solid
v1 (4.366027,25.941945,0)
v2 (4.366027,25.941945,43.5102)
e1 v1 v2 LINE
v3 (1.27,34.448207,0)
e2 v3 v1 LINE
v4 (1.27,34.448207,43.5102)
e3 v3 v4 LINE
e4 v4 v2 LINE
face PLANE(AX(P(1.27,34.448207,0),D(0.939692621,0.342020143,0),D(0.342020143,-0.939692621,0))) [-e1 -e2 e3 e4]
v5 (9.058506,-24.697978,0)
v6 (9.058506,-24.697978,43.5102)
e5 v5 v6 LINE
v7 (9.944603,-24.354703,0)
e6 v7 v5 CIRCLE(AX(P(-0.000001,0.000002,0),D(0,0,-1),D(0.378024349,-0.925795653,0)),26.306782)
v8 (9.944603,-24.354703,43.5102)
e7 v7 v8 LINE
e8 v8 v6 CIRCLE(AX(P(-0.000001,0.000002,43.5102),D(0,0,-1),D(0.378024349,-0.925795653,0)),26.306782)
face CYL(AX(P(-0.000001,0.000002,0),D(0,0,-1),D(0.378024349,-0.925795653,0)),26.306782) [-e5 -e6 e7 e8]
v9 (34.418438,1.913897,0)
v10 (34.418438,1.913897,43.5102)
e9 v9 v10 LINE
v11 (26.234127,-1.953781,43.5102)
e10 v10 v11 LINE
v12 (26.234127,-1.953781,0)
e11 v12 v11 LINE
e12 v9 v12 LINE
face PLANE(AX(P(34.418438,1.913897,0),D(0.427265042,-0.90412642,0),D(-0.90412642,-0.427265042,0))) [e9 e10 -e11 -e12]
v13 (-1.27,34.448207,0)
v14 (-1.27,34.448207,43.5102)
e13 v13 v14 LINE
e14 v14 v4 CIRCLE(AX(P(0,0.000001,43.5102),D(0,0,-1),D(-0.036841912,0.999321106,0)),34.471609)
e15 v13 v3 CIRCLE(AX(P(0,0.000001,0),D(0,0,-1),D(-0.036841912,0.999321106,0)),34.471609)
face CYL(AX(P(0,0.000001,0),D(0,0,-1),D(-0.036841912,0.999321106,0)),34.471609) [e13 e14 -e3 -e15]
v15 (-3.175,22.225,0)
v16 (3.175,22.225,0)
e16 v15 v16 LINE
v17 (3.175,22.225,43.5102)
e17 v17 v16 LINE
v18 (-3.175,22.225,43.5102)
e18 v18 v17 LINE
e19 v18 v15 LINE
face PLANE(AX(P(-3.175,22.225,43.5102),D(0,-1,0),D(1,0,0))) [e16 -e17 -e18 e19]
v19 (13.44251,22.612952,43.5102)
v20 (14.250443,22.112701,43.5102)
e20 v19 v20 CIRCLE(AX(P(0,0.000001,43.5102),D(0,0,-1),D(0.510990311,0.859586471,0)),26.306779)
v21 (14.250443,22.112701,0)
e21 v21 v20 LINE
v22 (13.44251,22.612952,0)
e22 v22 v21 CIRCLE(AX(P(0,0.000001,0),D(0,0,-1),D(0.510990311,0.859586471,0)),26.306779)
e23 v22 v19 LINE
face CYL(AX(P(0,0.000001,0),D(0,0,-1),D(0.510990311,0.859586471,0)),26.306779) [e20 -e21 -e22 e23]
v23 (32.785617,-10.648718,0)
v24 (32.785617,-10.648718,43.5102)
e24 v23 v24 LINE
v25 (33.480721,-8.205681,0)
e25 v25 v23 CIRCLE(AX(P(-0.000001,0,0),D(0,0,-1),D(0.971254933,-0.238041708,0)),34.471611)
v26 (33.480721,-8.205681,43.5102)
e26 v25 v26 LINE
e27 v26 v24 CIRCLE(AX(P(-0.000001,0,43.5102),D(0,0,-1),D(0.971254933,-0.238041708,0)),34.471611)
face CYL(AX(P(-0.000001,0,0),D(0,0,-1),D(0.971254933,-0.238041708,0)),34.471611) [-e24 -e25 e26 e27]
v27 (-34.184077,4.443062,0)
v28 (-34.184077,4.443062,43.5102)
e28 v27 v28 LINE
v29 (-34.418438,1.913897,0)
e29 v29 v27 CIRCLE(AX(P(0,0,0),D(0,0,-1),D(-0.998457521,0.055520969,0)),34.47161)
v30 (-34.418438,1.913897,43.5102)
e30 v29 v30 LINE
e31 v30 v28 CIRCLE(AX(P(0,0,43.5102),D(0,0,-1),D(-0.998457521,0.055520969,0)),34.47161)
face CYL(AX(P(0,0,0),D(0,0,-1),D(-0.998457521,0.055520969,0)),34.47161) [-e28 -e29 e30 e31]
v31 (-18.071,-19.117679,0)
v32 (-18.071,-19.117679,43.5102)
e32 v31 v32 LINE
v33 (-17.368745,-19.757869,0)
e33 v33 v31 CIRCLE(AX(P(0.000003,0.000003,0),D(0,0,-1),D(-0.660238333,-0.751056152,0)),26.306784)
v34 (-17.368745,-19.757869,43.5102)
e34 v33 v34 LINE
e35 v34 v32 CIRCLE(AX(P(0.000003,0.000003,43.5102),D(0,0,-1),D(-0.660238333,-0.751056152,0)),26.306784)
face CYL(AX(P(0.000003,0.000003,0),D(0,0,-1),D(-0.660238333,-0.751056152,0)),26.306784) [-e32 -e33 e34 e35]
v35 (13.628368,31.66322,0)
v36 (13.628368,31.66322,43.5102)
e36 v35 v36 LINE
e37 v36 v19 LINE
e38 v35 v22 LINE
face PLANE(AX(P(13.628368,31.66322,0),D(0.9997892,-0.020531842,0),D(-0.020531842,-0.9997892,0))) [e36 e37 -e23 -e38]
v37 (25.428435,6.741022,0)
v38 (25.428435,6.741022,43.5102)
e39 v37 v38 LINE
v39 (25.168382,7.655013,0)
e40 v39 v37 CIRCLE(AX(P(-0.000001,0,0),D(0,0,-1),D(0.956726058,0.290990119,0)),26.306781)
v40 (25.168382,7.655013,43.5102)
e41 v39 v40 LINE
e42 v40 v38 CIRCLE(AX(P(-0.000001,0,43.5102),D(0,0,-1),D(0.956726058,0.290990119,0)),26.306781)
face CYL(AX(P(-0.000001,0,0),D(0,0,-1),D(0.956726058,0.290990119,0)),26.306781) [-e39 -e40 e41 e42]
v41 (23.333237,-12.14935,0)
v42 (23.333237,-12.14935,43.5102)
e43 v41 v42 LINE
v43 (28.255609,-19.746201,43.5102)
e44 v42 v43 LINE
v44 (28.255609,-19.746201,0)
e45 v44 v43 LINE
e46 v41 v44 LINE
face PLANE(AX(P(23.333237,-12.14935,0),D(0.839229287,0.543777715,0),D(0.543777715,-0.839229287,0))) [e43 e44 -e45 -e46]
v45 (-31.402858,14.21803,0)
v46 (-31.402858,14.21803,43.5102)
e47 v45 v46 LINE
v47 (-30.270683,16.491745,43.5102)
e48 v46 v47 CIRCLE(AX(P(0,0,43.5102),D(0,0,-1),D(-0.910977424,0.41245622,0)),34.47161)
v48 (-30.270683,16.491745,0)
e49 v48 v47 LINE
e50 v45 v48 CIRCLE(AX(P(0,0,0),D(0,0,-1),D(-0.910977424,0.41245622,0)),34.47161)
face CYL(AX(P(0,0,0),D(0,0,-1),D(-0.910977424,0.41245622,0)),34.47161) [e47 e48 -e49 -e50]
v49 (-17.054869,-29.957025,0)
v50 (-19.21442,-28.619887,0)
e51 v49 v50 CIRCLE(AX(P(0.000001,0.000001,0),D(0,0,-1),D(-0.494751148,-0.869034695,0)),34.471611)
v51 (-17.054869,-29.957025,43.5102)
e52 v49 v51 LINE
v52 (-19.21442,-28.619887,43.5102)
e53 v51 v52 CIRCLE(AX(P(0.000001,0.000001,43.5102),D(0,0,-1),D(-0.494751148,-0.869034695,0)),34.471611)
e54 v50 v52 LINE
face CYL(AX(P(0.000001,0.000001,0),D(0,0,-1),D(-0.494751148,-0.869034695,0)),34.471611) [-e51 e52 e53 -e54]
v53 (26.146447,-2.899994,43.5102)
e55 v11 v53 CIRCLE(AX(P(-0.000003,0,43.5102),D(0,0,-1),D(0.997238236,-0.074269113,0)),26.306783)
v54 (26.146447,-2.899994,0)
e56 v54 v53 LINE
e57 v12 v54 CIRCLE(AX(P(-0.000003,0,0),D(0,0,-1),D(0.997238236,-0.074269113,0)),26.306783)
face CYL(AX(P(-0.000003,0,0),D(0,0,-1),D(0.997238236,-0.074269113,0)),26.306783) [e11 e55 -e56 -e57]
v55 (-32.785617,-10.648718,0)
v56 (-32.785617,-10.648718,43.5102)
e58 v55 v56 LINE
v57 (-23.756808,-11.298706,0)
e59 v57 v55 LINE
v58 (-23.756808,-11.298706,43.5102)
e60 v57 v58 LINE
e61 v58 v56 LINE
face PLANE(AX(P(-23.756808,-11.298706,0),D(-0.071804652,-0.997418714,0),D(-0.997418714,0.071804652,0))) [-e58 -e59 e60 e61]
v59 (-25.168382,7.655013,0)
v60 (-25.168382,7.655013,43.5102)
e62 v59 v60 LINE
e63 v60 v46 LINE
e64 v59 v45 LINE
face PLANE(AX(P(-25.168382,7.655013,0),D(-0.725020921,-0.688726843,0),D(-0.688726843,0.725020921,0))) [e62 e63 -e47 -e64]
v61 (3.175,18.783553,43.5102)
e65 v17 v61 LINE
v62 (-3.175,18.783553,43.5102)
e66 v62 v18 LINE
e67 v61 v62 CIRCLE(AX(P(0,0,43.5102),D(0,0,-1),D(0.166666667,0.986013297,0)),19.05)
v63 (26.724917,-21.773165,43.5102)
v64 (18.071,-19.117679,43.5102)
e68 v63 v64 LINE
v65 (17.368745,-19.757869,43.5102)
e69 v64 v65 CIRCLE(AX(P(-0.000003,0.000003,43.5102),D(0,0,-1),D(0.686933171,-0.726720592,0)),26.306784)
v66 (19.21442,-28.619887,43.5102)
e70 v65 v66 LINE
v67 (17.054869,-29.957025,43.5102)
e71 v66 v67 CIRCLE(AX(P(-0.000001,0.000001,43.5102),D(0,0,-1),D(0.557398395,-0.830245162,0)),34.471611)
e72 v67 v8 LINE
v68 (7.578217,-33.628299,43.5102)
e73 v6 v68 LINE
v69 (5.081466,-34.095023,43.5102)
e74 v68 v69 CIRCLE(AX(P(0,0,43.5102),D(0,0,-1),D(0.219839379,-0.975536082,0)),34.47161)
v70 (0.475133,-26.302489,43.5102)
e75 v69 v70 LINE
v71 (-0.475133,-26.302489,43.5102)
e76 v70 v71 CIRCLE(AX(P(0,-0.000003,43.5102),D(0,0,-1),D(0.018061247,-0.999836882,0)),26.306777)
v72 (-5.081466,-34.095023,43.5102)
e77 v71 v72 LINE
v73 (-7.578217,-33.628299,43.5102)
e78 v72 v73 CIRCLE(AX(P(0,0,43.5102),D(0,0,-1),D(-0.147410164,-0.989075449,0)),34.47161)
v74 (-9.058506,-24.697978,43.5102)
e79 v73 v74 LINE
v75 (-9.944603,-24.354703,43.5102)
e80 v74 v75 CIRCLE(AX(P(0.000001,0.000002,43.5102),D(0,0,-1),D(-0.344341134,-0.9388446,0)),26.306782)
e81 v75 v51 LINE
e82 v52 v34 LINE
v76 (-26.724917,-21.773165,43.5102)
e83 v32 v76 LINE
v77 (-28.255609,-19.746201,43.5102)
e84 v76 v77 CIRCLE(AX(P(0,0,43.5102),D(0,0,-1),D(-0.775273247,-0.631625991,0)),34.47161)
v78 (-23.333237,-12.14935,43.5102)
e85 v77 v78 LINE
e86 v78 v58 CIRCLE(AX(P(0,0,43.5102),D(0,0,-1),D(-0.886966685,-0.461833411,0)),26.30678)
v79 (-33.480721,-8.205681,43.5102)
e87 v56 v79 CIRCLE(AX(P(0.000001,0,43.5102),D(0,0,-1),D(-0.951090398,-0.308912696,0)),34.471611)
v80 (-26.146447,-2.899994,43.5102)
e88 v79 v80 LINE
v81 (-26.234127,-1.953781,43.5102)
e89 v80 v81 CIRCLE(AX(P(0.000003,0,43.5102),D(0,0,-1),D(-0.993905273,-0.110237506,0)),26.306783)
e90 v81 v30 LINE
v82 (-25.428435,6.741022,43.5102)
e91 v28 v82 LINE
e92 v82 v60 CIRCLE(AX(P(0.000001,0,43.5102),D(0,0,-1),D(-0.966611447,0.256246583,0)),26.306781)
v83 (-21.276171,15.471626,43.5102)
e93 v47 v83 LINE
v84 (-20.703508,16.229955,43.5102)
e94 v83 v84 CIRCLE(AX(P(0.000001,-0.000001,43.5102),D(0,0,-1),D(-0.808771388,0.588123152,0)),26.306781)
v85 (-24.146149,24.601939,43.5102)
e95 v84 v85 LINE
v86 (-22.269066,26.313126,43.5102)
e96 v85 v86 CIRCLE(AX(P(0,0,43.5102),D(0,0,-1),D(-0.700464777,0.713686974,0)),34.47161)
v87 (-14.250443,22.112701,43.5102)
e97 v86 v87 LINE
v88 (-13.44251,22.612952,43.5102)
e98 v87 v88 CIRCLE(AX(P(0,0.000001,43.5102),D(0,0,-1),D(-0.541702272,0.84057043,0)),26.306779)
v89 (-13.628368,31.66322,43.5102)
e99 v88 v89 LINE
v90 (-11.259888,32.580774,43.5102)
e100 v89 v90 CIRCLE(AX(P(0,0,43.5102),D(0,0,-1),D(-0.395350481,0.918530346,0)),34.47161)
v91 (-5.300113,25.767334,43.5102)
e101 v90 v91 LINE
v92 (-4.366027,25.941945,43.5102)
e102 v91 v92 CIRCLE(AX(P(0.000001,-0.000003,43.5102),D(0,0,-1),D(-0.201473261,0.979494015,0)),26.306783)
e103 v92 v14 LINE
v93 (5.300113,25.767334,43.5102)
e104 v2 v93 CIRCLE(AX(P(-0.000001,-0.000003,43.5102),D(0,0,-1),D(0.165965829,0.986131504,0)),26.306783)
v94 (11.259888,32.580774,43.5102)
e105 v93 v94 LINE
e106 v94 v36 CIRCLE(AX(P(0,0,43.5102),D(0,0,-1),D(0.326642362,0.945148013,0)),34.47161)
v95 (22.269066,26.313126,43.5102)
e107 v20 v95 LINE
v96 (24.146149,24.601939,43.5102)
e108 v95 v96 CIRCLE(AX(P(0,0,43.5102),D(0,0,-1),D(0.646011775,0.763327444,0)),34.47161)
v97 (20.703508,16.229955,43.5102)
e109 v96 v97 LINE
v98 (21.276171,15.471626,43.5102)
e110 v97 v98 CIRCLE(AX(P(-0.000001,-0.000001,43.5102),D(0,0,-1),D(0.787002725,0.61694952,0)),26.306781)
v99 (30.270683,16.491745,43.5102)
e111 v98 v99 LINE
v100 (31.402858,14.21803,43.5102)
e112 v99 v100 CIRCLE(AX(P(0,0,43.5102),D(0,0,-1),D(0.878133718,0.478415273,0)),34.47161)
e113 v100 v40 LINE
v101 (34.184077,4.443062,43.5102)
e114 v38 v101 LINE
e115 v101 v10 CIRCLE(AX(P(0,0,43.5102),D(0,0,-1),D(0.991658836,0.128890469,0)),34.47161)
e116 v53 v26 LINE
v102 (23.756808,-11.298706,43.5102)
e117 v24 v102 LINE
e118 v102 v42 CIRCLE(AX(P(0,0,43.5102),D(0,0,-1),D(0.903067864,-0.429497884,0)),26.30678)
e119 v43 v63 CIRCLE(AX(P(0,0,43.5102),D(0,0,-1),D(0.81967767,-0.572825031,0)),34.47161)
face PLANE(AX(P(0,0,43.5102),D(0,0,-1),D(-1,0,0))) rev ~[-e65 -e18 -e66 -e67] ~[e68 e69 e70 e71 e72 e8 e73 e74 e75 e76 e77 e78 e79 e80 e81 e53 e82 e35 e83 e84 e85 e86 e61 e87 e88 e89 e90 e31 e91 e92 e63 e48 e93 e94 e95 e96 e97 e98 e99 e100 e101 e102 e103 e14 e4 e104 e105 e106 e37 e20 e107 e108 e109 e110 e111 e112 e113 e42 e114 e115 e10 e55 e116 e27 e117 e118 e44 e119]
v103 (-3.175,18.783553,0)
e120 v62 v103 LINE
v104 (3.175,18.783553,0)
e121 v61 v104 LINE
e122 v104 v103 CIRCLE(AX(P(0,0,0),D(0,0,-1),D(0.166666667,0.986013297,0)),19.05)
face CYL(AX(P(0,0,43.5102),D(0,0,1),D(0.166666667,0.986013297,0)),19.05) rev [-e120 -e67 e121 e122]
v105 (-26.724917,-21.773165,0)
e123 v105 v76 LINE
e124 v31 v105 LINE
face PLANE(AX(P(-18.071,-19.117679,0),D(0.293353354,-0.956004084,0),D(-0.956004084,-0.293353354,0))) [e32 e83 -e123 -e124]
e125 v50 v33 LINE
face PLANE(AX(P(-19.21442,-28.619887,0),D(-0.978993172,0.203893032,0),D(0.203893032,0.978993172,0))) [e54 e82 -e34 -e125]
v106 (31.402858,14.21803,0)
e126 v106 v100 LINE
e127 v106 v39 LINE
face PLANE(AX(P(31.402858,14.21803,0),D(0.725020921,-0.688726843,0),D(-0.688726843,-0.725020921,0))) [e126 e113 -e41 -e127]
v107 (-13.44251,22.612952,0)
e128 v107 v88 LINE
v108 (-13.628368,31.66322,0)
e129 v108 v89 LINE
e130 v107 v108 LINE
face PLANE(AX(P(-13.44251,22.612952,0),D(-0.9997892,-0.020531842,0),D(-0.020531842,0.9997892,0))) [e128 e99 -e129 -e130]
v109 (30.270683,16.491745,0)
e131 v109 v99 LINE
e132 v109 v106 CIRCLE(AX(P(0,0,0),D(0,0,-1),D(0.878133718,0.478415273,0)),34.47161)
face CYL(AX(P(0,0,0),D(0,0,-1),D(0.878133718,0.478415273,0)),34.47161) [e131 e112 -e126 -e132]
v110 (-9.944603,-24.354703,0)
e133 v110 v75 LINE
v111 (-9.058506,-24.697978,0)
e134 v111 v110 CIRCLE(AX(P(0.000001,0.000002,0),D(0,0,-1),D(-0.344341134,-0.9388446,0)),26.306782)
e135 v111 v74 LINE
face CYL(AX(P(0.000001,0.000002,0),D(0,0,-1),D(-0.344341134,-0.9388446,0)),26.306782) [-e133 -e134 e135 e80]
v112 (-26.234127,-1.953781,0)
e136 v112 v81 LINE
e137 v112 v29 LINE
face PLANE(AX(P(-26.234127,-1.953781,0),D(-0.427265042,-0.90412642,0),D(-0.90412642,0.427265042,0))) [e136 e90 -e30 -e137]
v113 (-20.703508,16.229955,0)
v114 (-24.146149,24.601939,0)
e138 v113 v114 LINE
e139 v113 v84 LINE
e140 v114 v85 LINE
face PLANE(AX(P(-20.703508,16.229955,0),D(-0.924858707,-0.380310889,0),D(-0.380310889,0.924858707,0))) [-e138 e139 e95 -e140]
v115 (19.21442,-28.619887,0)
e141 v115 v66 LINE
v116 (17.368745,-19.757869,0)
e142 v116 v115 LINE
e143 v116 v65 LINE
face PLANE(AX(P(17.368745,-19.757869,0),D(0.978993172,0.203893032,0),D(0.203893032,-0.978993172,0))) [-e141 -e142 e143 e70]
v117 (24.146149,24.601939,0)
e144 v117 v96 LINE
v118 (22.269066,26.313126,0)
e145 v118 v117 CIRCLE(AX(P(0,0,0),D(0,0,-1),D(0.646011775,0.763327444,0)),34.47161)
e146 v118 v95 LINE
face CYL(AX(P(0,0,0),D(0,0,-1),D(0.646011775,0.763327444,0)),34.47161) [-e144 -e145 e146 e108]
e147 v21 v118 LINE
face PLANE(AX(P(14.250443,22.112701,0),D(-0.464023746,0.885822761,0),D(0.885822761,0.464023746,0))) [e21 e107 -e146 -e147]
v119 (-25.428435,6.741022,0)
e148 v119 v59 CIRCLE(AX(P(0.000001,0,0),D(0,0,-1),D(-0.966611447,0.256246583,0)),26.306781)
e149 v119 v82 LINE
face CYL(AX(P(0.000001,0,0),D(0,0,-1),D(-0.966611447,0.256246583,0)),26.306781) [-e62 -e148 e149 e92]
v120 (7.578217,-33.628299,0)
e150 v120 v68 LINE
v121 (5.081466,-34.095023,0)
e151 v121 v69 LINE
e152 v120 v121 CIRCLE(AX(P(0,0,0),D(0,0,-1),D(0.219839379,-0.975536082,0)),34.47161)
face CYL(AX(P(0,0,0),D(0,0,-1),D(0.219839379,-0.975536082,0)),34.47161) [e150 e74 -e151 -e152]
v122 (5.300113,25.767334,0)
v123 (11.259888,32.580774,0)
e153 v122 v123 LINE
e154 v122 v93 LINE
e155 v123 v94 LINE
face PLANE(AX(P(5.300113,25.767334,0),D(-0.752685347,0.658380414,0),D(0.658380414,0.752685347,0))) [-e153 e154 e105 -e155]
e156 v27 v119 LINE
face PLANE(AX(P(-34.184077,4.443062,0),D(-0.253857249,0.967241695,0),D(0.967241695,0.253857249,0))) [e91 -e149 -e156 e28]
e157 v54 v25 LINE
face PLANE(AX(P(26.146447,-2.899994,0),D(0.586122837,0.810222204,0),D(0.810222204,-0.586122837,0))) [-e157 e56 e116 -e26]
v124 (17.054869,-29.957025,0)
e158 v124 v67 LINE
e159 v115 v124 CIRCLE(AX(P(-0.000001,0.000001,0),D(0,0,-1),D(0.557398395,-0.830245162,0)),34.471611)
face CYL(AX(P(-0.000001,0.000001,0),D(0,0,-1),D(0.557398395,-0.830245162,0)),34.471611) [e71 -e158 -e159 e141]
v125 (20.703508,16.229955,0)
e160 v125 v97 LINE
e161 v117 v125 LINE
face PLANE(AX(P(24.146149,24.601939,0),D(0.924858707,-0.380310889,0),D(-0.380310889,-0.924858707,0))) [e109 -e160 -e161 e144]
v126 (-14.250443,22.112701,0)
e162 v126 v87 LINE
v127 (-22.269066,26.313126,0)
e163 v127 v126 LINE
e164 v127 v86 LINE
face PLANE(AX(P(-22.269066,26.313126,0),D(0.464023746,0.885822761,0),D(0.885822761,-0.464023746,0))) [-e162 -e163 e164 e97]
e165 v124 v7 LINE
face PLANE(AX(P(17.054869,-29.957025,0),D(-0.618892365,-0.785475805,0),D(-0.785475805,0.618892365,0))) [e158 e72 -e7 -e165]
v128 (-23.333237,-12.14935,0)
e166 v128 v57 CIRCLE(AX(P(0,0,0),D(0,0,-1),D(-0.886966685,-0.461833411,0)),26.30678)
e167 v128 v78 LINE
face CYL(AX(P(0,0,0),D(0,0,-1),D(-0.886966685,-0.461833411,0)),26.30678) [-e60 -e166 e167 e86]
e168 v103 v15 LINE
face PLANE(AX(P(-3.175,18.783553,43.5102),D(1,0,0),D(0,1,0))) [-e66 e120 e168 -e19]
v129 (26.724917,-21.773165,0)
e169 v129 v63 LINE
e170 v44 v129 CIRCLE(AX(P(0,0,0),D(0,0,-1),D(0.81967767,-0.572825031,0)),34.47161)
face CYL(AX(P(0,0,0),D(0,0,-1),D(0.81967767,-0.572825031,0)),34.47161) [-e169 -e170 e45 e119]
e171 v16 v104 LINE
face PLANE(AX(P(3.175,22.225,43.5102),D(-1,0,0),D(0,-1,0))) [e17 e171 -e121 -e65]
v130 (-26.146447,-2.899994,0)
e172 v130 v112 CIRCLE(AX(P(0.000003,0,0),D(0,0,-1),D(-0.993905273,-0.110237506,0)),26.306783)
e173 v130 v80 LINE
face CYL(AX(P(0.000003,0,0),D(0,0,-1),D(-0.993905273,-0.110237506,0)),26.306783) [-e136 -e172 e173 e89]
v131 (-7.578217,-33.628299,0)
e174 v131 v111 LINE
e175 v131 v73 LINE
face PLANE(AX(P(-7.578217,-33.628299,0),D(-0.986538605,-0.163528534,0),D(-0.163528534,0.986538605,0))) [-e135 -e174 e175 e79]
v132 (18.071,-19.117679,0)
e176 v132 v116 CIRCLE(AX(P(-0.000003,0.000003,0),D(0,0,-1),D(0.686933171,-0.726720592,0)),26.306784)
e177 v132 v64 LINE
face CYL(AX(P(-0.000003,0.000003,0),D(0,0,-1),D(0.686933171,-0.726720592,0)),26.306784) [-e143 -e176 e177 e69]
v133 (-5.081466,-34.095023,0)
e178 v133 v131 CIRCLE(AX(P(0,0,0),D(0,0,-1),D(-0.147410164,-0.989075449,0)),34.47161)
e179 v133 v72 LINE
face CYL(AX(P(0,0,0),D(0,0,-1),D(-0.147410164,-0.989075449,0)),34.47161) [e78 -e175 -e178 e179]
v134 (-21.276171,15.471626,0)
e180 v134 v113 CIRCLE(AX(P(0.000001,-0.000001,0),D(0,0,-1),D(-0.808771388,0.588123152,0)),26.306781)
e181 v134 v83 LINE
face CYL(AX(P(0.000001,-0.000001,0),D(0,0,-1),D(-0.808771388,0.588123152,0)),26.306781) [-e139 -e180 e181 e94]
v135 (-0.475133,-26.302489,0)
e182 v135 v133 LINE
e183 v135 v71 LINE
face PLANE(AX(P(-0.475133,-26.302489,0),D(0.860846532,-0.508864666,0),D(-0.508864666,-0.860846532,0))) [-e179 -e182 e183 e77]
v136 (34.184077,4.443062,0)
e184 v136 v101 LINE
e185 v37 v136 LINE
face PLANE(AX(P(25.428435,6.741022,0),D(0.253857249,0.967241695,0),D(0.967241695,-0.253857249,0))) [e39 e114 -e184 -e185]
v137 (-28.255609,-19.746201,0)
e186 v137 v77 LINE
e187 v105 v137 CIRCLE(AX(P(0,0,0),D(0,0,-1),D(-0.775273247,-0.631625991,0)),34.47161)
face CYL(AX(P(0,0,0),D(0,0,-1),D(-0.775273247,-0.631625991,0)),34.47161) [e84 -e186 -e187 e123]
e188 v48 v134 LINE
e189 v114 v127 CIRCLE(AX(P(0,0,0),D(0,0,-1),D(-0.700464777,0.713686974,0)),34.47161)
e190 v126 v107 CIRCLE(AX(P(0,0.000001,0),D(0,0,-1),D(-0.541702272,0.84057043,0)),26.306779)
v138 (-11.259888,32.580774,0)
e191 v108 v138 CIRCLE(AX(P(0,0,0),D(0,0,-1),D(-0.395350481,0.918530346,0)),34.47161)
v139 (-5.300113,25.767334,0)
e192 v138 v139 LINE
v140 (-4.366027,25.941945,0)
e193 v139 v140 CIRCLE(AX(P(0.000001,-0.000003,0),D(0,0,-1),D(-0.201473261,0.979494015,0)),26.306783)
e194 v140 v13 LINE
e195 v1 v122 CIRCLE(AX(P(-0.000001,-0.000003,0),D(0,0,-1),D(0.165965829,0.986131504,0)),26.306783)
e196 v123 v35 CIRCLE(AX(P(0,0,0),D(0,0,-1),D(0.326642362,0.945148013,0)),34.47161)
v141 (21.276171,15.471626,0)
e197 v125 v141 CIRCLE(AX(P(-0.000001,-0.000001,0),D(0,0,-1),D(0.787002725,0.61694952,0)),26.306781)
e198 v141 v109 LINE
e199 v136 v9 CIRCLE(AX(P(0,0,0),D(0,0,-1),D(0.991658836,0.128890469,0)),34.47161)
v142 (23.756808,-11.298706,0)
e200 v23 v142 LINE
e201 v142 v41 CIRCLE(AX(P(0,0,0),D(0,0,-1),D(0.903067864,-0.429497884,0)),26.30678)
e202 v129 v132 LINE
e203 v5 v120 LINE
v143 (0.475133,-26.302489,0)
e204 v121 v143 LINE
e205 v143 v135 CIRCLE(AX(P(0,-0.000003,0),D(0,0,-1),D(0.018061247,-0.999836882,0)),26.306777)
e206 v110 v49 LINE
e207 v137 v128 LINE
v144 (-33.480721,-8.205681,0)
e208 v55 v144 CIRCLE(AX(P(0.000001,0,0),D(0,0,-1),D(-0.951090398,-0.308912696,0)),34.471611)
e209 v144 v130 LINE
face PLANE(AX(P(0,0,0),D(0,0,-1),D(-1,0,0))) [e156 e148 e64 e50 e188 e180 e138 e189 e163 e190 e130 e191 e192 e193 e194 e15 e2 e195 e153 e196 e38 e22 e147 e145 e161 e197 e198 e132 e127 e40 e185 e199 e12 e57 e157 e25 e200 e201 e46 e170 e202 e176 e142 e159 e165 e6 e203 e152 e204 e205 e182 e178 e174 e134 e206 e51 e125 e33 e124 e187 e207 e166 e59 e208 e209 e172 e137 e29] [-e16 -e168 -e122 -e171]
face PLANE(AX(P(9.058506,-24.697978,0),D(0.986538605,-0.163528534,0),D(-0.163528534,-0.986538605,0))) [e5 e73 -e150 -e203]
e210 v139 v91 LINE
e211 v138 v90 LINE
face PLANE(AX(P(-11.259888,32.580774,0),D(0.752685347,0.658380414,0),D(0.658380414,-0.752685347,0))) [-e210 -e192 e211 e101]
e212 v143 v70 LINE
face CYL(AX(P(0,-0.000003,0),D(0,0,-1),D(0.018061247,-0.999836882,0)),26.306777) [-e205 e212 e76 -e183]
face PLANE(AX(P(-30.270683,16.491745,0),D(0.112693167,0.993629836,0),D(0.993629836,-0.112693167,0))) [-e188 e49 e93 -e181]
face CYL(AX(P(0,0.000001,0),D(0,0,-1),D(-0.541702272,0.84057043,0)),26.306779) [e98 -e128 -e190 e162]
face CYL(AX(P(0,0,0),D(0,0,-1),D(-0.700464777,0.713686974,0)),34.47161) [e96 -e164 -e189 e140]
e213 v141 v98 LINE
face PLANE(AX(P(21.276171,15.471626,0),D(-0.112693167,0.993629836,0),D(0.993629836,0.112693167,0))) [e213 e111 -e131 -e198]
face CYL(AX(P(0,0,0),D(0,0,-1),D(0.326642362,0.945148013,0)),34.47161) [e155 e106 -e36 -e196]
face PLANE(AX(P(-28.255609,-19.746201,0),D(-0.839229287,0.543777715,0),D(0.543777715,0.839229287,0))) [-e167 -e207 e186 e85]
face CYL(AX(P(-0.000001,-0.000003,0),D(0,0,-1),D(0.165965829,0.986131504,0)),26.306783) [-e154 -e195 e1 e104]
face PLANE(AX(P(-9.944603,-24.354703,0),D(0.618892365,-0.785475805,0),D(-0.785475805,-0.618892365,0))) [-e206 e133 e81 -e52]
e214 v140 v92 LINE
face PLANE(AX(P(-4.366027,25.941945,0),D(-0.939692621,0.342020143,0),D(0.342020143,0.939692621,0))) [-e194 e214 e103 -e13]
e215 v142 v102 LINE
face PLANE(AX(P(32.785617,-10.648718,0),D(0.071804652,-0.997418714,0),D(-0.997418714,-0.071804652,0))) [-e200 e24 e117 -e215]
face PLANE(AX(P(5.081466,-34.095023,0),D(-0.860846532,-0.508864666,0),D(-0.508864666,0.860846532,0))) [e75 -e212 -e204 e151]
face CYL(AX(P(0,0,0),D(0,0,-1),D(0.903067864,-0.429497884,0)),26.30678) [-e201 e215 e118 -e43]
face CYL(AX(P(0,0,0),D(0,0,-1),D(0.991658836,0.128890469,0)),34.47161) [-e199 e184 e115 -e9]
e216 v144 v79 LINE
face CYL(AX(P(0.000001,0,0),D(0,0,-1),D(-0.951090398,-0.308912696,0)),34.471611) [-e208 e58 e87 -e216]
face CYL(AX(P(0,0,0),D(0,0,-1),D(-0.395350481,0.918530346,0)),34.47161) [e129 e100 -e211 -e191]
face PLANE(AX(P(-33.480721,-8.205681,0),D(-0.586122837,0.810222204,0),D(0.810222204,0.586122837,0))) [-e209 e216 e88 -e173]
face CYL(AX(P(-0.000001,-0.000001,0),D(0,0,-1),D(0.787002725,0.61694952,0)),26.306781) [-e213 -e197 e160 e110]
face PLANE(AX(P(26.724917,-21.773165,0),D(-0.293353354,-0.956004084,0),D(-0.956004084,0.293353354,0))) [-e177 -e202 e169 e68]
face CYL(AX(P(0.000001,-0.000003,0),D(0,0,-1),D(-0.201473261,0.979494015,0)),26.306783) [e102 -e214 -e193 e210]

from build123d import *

# Parameters (mm, degrees)
BOSS_EXTRUDE1_DEPTH = 43.5102
CUT_EXTRUDE1_DEPTH  = 43.5102


with BuildPart() as part:
    # Sketch2 → Boss-Extrude1 (new body)
    with BuildSketch(Plane.XY):
        with BuildLine():
            Line((-4.366026501, 25.941944541), (-1.27, 34.448207442))
            ThreePointArc((-1.27, 34.448207442), (0, 34.47161), (1.27, 34.448207442))
            Line((1.27, 34.448207442), (4.366026501, 25.941944541))
            ThreePointArc((4.366026501, 25.941944541), (4.83385814, 25.858857079), (5.300112805, 25.767333549))
            Line((5.300112805, 25.767333549), (11.259888122, 32.580773709))
            ThreePointArc((11.259888122, 32.580773709), (12.452581833, 32.143819028), (13.628367585, 31.663219877))
            Line((13.628367585, 31.663219877), (13.442509735, 22.612952173))
            ThreePointArc((13.442509735, 22.612952173), (13.848735094, 22.366475142), (14.250442508, 22.11270138))
            Line((14.250442508, 22.11270138), (22.26906596, 26.31312595))
            ThreePointArc((22.26906596, 26.31312595), (23.223373486, 25.474827181), (24.14614861, 24.601939015))
            Line((24.14614861, 24.601939015), (20.703507542, 16.229955312))
            ThreePointArc((20.703507542, 16.229955312), (20.993263634, 15.8533768), (21.276170986, 15.471626358))
            Line((21.276170986, 15.471626358), (30.270683044, 16.491744725))
            ThreePointArc((30.270683044, 16.491744725), (30.857719866, 15.365318762), (31.402858467, 14.218029965))
            Line((31.402858467, 14.218029965), (25.168381933, 7.655013053))
            ThreePointArc((25.168381933, 7.655013053), (25.302535593, 7.199192074), (25.428434676, 6.741022466))
            Line((25.428434676, 6.741022466), (34.184076646, 4.443061991))
            ThreePointArc((34.184076646, 4.443061991), (34.324560189, 3.180638903), (34.418438279, 1.913897183))
            Line((34.418438279, 1.913897183), (26.234126882, -1.953781138))
            ThreePointArc((26.234126882, -1.953781138), (26.194559914, -2.427283433), (26.14644736, -2.899993864))
            Line((26.14644736, -2.899993864), (33.480721277, -8.205680884))
            ThreePointArc((33.480721277, -8.205680884), (33.155678459, -9.433603865), (32.785617282, -10.648718018))
            Line((32.785617282, -10.648718018), (23.756807626, -11.298706359))
            ThreePointArc((23.756807626, -11.298706359), (23.54886377, -11.725940863), (23.333237446, -12.149349953))
            Line((23.333237446, -12.149349953), (28.255608976, -19.746201087))
            ThreePointArc((28.255608976, -19.746201087), (27.508938632, -20.773786158), (26.724917, -21.773164845))
            Line((26.724917, -21.773164845), (18.07099986, -19.117678678))
            ThreePointArc((18.07099986, -19.117678678), (17.722763084, -19.440945003), (17.36874452, -19.757869009))
            Line((17.36874452, -19.757869009), (19.214420114, -28.619887416))
            ThreePointArc((19.214420114, -28.619887416), (18.14696421, -29.308353518), (17.054868589, -29.95702511))
            Line((17.054868589, -29.95702511), (9.944603428, -24.354702557))
            ThreePointArc((9.944603428, -24.354702557), (9.503105039, -24.530341795), (9.058506404, -24.697978373))
            Line((9.058506404, -24.697978373), (7.578217344, -33.628299361))
            ThreePointArc((7.578217344, -33.628299361), (6.334141716, -33.884665333), (5.081465671, -34.095023136))
            Line((5.081465671, -34.095023136), (0.475133198, -26.302488901))
            ThreePointArc((0.475133198, -26.302488901), (0, -26.30678), (-0.475133198, -26.302488901))
            Line((-0.475133198, -26.302488901), (-5.081465671, -34.095023136))
            ThreePointArc((-5.081465671, -34.095023136), (-6.334141716, -33.884665333), (-7.578217344, -33.628299361))
            Line((-7.578217344, -33.628299361), (-9.058506404, -24.697978373))
            ThreePointArc((-9.058506404, -24.697978373), (-9.503105039, -24.530341795), (-9.944603428, -24.354702557))
            Line((-9.944603428, -24.354702557), (-17.054868589, -29.95702511))
            ThreePointArc((-17.054868589, -29.95702511), (-18.14696421, -29.308353518), (-19.214420114, -28.619887416))
            Line((-19.214420114, -28.619887416), (-17.36874452, -19.757869009))
            ThreePointArc((-17.36874452, -19.757869009), (-17.722763084, -19.440945003), (-18.07099986, -19.117678678))
            Line((-18.07099986, -19.117678678), (-26.724917, -21.773164845))
            ThreePointArc((-26.724917, -21.773164845), (-27.508938632, -20.773786158), (-28.255608976, -19.746201087))
            Line((-28.255608976, -19.746201087), (-23.333237446, -12.149349953))
            ThreePointArc((-23.333237446, -12.149349953), (-23.54886377, -11.725940863), (-23.756807626, -11.298706359))
            Line((-23.756807626, -11.298706359), (-32.785617282, -10.648718018))
            ThreePointArc((-32.785617282, -10.648718018), (-33.155678459, -9.433603865), (-33.480721277, -8.205680884))
            Line((-33.480721277, -8.205680884), (-26.14644736, -2.899993864))
            ThreePointArc((-26.14644736, -2.899993864), (-26.194559914, -2.427283433), (-26.234126882, -1.953781138))
            Line((-26.234126882, -1.953781138), (-34.418438279, 1.913897183))
            ThreePointArc((-34.418438279, 1.913897183), (-34.324560189, 3.180638903), (-34.184076646, 4.443061991))
            Line((-34.184076646, 4.443061991), (-25.428434676, 6.741022466))
            ThreePointArc((-25.428434676, 6.741022466), (-25.302535593, 7.199192074), (-25.168381933, 7.655013053))
            Line((-25.168381933, 7.655013053), (-31.402858467, 14.218029965))
            ThreePointArc((-31.402858467, 14.218029965), (-30.857719866, 15.365318762), (-30.270683044, 16.491744725))
            Line((-30.270683044, 16.491744725), (-21.276170986, 15.471626358))
            ThreePointArc((-21.276170986, 15.471626358), (-20.993263634, 15.8533768), (-20.703507542, 16.229955312))
            Line((-20.703507542, 16.229955312), (-24.14614861, 24.601939015))
            ThreePointArc((-24.14614861, 24.601939015), (-23.223373486, 25.474827181), (-22.26906596, 26.31312595))
            Line((-22.26906596, 26.31312595), (-14.250442508, 22.11270138))
            ThreePointArc((-14.250442508, 22.11270138), (-13.848735094, 22.366475142), (-13.442509735, 22.612952173))
            Line((-13.442509735, 22.612952173), (-13.628367585, 31.663219877))
            ThreePointArc((-13.628367585, 31.663219877), (-12.452581833, 32.143819028), (-11.259888122, 32.580773709))
            Line((-11.259888122, 32.580773709), (-5.300112805, 25.767333549))
            ThreePointArc((-5.300112805, 25.767333549), (-4.83385814, 25.858857079), (-4.366026501, 25.941944541))
        make_face()
    extrude(amount=BOSS_EXTRUDE1_DEPTH)

    # Sketch4 → Cut-Extrude1 (cut)
    with BuildSketch(Plane.XY.offset(43.5102)):
        with BuildLine():
            Line((-3.175, 22.225), (3.175, 22.225))
            Line((3.175, 22.225), (3.175, 18.783553311))
            ThreePointArc((3.175, 18.783553311), (0, -19.05), (-3.175, 18.783553311))
            Line((-3.175, 18.783553311), (-3.175, 22.225))
        make_face()
    extrude(amount=-CUT_EXTRUDE1_DEPTH, mode=Mode.SUBTRACT)


solid = part.part
